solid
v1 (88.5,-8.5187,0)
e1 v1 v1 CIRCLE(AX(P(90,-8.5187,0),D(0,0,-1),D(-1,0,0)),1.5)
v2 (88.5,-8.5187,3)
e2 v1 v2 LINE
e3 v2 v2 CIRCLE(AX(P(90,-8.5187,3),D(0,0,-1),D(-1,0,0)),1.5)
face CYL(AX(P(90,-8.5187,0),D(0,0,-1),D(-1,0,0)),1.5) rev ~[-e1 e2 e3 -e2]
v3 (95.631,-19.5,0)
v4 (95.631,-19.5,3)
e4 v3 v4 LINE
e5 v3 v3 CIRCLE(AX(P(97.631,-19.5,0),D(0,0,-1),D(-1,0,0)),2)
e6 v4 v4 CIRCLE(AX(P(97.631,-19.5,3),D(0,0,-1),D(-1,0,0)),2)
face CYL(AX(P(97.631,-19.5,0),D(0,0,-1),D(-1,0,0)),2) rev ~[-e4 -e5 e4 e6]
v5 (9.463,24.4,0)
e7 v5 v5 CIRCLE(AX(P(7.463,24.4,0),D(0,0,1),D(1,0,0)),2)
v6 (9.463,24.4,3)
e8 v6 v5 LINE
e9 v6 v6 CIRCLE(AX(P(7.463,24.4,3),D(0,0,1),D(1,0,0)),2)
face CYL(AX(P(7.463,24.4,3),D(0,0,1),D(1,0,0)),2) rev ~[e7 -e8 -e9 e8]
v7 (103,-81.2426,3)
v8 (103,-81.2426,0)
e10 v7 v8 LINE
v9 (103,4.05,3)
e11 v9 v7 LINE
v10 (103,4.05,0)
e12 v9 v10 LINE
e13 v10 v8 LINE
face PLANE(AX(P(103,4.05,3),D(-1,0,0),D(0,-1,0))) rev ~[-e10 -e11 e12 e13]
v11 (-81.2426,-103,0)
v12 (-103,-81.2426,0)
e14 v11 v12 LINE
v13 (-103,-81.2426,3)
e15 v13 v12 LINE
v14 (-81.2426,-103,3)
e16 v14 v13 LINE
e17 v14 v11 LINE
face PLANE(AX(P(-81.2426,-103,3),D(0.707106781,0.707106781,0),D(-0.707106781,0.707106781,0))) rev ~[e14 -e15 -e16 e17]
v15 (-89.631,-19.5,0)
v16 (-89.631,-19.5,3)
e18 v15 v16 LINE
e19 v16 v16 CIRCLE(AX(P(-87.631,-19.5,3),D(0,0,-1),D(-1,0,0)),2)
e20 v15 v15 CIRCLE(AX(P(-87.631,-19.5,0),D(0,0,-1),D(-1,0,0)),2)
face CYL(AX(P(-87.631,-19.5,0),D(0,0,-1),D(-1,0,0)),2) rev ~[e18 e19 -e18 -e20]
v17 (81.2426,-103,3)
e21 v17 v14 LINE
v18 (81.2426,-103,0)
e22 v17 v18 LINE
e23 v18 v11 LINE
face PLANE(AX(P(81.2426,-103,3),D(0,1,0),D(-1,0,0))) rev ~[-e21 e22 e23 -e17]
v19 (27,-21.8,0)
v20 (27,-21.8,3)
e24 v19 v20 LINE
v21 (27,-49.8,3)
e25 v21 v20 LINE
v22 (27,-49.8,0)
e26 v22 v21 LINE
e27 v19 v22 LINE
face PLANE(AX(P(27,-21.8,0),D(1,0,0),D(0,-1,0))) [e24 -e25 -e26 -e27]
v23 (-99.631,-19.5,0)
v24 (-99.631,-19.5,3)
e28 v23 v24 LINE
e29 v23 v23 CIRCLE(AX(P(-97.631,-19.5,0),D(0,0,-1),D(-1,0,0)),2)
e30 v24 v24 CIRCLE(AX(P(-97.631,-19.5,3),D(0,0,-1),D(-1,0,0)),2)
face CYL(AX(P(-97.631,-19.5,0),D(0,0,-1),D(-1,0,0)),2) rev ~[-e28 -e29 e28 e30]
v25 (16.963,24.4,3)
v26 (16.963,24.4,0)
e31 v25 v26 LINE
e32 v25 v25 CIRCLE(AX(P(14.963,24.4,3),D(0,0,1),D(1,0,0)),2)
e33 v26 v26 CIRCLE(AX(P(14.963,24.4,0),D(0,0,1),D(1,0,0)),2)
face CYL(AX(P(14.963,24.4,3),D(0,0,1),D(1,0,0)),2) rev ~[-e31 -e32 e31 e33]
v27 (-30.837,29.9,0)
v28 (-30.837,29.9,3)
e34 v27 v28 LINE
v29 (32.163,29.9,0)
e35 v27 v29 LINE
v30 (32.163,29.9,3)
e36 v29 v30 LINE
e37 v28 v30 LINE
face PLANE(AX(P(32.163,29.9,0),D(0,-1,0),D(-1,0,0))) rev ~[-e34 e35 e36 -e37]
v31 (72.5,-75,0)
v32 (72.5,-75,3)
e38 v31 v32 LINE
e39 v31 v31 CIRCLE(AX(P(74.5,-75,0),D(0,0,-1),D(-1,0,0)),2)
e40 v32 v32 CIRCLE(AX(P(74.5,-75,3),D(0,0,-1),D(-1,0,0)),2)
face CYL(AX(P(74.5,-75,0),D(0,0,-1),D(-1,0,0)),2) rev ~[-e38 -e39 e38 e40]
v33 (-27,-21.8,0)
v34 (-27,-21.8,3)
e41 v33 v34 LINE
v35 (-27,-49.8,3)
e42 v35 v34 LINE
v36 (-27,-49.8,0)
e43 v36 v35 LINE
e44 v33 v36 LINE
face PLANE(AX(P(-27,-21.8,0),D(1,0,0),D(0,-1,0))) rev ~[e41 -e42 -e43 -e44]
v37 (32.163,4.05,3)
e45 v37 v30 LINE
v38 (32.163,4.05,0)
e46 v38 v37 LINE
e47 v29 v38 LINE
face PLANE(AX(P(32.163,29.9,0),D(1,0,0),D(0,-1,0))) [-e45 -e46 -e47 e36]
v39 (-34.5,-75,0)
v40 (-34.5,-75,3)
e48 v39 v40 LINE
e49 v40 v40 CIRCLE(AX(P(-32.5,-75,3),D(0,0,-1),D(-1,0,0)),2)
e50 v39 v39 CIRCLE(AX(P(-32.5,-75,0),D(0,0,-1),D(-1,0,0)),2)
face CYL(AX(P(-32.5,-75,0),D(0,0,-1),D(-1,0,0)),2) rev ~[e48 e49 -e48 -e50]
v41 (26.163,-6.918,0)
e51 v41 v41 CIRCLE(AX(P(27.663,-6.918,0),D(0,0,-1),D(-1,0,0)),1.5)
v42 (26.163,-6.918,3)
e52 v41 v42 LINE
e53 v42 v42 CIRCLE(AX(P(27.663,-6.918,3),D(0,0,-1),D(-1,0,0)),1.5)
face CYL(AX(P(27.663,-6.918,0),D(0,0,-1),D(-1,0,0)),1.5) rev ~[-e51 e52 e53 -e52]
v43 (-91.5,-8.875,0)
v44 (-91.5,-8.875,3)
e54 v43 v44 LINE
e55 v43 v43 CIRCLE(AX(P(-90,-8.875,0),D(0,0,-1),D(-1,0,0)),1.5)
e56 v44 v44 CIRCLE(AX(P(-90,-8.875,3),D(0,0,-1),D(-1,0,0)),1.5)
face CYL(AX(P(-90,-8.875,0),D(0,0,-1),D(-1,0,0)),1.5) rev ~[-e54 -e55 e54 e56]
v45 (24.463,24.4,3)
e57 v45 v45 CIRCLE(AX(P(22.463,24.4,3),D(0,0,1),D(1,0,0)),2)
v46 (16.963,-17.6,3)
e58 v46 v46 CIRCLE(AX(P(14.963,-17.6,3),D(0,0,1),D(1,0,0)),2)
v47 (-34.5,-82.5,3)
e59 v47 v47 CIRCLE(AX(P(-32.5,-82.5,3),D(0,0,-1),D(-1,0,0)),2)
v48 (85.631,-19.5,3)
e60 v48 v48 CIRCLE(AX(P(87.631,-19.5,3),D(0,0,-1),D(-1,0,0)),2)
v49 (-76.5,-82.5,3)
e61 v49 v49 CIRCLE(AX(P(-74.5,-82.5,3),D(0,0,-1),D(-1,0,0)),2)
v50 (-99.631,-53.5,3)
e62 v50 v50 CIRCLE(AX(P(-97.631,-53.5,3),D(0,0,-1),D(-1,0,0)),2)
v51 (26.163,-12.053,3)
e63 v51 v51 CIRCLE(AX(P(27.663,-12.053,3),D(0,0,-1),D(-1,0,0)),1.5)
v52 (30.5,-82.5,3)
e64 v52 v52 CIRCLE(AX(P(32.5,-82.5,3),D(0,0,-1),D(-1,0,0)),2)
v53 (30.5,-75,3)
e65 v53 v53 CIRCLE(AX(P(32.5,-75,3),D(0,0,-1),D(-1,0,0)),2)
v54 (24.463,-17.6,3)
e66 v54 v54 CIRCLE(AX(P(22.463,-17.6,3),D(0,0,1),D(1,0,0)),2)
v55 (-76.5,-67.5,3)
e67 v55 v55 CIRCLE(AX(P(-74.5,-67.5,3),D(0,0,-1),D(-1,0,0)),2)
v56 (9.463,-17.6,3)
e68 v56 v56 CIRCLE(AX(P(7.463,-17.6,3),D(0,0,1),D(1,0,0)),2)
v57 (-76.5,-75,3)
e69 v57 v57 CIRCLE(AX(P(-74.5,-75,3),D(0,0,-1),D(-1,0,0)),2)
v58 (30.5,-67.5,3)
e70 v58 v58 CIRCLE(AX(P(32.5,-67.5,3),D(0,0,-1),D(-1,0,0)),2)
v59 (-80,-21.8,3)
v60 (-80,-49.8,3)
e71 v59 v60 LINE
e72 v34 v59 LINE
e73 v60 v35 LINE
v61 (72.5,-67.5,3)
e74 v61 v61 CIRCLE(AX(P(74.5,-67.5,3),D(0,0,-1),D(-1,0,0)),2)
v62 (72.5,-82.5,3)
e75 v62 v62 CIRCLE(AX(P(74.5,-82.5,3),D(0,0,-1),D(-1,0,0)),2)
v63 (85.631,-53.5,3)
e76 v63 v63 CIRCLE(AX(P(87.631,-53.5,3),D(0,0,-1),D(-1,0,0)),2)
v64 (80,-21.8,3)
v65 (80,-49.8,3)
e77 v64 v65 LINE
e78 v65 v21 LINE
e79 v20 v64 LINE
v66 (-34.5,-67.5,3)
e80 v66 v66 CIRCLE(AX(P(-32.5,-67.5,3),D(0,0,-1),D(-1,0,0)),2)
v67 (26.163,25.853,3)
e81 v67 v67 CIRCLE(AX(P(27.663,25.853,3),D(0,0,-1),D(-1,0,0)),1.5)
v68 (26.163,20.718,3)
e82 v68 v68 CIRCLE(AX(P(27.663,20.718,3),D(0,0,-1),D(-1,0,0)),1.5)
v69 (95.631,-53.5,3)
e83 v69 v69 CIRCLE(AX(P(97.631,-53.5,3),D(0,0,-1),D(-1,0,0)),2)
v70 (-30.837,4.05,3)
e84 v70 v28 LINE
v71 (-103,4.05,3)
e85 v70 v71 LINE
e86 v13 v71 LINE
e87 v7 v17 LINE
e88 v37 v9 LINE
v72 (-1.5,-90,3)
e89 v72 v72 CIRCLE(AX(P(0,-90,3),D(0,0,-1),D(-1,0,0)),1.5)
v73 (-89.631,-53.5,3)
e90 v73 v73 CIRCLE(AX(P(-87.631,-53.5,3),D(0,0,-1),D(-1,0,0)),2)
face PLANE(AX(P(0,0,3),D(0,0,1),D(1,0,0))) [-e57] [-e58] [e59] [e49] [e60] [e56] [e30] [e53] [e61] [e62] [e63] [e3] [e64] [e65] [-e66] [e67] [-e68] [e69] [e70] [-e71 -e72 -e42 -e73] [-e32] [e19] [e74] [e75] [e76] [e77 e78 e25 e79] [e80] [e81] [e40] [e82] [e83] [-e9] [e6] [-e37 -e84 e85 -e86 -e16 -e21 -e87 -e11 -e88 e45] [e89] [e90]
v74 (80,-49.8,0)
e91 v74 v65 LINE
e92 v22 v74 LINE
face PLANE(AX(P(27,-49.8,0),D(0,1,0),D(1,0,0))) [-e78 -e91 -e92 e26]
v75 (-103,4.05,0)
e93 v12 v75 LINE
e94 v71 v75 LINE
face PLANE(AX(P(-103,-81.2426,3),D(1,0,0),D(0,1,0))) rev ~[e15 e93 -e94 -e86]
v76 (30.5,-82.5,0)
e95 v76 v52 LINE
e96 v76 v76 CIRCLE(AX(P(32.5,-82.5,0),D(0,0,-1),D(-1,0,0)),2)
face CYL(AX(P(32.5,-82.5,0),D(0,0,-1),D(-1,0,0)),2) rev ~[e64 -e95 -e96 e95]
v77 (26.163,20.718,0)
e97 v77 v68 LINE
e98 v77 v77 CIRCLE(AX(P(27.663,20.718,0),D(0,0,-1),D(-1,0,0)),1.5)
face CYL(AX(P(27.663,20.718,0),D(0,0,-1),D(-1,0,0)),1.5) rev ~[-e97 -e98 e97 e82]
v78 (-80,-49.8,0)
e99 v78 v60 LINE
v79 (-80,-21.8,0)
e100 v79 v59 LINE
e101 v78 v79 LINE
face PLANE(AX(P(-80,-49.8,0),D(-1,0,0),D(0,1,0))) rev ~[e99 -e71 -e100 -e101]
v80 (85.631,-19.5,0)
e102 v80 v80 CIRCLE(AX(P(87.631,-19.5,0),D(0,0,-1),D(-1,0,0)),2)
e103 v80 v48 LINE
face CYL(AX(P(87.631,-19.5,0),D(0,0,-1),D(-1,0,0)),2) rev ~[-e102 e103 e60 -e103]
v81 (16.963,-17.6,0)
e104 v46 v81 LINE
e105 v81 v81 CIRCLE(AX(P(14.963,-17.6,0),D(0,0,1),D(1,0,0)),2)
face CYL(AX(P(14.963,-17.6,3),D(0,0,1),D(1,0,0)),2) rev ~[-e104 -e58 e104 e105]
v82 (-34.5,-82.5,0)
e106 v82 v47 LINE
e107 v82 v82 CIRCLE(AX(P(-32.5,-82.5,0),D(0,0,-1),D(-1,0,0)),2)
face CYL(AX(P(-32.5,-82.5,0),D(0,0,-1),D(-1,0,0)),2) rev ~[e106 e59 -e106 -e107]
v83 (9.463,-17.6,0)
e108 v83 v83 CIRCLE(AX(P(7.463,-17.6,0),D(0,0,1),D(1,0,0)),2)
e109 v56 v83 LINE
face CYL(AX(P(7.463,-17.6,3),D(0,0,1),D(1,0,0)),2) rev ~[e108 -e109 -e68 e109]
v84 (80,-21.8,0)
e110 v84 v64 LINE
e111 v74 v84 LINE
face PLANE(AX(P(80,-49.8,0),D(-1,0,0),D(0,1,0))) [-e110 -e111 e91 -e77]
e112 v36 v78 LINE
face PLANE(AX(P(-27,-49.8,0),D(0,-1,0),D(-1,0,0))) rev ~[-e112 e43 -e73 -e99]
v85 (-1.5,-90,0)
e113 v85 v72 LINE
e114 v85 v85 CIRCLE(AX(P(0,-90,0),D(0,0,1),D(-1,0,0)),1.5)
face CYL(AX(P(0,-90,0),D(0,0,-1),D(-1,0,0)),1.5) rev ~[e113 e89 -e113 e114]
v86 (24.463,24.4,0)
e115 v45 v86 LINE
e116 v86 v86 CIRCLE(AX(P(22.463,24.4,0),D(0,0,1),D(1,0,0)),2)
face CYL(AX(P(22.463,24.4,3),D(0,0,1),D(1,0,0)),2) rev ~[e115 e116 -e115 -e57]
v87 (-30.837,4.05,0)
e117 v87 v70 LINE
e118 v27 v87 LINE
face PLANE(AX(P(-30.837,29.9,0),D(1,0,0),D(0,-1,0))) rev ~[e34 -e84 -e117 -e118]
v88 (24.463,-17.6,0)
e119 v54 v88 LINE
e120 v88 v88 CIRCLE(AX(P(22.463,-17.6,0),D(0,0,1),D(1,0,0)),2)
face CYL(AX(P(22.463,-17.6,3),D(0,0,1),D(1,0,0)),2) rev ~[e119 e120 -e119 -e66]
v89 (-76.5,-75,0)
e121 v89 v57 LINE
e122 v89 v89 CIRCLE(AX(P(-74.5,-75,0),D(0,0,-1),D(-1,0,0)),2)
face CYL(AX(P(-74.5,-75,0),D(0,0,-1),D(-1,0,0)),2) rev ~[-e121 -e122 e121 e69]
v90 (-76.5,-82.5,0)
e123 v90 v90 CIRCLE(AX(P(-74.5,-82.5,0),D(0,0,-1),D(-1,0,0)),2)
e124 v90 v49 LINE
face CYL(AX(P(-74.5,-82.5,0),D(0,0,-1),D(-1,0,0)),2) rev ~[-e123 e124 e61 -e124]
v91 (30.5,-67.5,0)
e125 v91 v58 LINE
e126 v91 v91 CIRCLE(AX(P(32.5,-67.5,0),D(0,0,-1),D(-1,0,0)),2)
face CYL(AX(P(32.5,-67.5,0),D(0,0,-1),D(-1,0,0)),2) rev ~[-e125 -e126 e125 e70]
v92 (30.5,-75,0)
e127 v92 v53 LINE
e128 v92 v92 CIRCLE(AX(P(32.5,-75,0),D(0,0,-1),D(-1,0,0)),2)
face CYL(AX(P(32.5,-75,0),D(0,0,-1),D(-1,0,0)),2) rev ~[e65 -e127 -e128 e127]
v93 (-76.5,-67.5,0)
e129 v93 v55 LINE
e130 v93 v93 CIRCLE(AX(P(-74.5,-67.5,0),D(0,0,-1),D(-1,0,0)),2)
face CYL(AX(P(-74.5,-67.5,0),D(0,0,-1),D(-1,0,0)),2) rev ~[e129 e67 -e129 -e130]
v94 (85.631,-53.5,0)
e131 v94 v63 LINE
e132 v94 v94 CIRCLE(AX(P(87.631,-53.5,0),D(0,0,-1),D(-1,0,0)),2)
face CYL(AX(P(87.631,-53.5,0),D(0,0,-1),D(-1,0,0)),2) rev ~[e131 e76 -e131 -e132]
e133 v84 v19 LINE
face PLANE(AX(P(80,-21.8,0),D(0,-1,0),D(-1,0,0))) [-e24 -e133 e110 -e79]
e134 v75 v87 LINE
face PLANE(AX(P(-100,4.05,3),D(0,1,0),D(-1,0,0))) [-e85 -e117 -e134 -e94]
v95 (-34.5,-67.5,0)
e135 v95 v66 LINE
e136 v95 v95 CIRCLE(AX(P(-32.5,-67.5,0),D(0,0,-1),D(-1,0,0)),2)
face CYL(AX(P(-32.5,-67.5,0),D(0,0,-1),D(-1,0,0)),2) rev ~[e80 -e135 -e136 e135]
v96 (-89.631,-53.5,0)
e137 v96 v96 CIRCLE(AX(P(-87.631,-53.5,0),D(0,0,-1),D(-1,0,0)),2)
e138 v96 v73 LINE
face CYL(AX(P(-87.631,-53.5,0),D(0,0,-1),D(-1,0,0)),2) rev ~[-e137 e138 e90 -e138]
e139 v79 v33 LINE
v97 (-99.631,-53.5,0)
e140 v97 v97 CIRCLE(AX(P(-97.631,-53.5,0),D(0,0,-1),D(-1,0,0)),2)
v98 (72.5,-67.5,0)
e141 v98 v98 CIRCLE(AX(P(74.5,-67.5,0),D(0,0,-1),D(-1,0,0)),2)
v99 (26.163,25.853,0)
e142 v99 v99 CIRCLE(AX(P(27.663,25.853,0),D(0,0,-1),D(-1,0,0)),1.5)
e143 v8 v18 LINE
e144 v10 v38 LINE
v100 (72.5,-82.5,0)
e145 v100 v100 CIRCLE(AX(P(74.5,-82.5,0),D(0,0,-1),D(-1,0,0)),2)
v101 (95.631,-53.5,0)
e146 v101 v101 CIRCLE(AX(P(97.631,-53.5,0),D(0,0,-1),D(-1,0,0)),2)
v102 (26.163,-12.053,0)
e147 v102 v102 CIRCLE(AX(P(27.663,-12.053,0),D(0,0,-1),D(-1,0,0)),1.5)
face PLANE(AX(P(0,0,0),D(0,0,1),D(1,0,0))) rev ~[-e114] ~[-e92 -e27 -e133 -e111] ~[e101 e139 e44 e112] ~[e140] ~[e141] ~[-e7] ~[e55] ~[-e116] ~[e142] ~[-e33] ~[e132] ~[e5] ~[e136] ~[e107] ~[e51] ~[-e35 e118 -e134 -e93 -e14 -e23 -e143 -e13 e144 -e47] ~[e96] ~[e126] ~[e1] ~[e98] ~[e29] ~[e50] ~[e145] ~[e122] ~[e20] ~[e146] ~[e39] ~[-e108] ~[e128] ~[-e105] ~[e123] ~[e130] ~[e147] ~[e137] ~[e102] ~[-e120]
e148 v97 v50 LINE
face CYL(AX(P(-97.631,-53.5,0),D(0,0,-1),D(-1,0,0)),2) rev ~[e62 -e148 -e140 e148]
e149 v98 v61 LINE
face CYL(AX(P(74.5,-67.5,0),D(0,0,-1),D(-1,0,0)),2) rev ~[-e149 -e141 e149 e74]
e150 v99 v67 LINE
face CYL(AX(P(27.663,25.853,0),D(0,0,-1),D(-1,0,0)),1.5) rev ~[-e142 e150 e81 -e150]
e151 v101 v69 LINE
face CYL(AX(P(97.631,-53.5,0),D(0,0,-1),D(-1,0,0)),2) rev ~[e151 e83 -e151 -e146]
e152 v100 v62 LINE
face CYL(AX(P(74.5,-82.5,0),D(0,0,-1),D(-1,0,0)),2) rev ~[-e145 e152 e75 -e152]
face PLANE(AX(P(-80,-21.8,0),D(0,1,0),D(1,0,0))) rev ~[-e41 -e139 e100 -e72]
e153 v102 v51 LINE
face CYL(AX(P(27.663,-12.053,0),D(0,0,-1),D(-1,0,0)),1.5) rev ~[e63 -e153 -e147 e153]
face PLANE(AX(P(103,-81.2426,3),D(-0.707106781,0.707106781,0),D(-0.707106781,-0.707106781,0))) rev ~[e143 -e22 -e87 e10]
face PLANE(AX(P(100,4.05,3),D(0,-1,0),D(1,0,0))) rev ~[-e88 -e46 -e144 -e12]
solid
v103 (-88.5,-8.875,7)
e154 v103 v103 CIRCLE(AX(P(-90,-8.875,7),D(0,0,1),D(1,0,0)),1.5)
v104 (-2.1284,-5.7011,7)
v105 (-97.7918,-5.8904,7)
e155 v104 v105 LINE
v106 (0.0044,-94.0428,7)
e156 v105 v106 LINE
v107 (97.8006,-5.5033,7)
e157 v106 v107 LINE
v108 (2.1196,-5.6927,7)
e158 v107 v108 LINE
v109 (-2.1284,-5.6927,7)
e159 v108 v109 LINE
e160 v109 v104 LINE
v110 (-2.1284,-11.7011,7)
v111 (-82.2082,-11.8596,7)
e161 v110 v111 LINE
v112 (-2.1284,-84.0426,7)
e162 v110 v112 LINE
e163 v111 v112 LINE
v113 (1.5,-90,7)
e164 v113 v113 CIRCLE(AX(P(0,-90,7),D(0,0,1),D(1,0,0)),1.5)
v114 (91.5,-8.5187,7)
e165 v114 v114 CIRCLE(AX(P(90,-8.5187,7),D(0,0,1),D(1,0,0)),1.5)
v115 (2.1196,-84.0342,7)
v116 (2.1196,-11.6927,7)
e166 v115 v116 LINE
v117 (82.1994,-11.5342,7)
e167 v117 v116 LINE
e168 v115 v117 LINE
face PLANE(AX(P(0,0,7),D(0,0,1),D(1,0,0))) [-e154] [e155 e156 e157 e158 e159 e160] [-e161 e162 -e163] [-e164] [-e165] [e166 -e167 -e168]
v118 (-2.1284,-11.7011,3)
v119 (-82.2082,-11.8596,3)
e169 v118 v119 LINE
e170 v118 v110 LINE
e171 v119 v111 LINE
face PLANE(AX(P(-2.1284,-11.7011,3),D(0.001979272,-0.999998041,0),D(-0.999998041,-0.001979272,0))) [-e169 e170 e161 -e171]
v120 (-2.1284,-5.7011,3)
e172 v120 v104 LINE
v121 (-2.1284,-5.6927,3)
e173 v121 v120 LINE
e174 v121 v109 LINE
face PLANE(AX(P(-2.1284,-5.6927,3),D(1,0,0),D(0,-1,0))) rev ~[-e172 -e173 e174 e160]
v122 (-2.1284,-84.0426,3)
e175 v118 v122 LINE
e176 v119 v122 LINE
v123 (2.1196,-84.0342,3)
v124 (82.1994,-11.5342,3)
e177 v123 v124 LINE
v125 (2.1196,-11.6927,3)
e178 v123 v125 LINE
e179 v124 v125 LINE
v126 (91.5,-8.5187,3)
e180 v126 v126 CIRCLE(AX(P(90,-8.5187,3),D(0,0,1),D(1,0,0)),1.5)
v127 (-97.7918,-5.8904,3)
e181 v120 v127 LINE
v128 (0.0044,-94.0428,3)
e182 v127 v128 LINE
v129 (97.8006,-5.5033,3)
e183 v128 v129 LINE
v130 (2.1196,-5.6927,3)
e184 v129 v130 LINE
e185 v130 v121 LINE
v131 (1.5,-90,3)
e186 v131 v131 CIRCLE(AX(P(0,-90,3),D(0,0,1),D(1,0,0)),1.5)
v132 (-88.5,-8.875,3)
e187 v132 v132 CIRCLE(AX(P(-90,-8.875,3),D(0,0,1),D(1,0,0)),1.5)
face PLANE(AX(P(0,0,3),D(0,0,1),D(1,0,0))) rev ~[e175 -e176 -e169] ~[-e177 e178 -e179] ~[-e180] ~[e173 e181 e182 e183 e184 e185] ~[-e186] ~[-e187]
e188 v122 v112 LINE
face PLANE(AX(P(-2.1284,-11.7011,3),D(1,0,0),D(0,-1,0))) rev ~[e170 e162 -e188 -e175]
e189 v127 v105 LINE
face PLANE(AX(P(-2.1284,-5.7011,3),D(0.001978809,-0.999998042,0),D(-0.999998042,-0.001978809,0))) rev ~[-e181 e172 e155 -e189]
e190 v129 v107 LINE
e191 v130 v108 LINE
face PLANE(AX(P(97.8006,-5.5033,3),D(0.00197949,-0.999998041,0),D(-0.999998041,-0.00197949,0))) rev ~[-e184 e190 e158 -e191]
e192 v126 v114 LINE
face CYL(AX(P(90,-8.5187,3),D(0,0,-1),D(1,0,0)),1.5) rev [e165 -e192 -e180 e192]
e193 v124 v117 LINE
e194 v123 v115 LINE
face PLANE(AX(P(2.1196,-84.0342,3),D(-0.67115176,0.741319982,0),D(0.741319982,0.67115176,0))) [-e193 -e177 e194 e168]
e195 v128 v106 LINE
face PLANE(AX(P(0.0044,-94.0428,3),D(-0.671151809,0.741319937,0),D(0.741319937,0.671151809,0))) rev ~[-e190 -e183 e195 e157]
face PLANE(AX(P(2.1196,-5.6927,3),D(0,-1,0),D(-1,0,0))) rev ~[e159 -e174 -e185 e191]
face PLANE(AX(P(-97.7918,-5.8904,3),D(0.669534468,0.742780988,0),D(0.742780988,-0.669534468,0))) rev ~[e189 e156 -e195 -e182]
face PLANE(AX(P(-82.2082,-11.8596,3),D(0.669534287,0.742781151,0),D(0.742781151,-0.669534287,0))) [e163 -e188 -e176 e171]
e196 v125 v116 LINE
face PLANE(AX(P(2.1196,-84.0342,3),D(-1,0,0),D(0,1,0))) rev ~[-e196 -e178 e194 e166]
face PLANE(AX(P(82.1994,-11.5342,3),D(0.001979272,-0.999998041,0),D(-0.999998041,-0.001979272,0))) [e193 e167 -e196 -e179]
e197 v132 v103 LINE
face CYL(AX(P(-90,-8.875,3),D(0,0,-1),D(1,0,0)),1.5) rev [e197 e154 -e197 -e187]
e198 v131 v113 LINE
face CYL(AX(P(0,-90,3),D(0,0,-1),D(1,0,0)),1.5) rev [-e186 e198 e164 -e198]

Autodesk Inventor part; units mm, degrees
ref_plane "YZ Plane" through (0, 0, 0) normal (1, 0, 0) x (0, 1, 0)
ref_plane "XZ Plane" through (0, 0, 0) normal (0, 1, 0) x (-1, 0, 0)
ref_plane "XY Plane" through (0, 0, 0) normal (0, 0, 1) x (1, 0, 0)
sketch "Эскиз1" plane through (0, 0, 0) normal (0, 0, 1) x (1, 0, 0)
  line L0 (-100, -100) -> (100, -100)
  line L1 (100, -100) -> (100, 100)
  line L2 (100, 100) -> (-100, 100)
  line L3 (-100, 100) -> (-100, -100)
  line L4 (-100, -100) -> (100, 100) construction
  line L5 (100, -100) -> (-100, 100) construction
  point P0 (0, 0)
  dimension "d0" = 200
  dimension "d1" = 200
extrude "Выдавливание1" add sketch "Эскиз1" along normal blind 3
sketch "Эскиз2" plane through (0, 0, 3) normal (0, 0, 1) x (1, 0, 0)
  line L0 (-100, -100) -> (100, -100) projected
  line L1 (100, -100) -> (100, 100) projected
  line L2 (100, 100) -> (-100, 100) projected
  line L3 (-100, 100) -> (-100, -100) projected
  line L4 (-100, 100) -> (-90, 100) construction
  line L5 (-100, -100) -> (100, -100) construction
  line L6 (100, -100) -> (90, -100) construction
  line L7 (-90, 100) -> (-90, 90) construction
  line L8 (100, 100) -> (-100, 100) construction
  line L9 (-90, 100) -> (-80, 100) construction
  line L10 (90, -100) -> (90, -90) construction
  line L11 (-90, 90) -> (90, 90) construction
  line L12 (90, 90) -> (90, -90) construction
  line L13 (90, -90) -> (-90, -90) construction
  line L14 (-90, -90) -> (-90, 90) construction
  point P0 (0, 0)
  dimension "d4" = 10
  dimension "d5" = 10
  dimension "d6" = 10
  dimension "d7" = 270
  dimension "d8" = 10
sketch "Эскиз3" plane through (0, 0, 0) normal (0, 0, -1) x (-1, 0, 0)
  line L0 (-90, -90) -> (90, -90) construction
  line L1 (90, -90) -> (90, 90) construction
  line L2 (90, 90) -> (-90, 90) construction
  line L3 (100, -100) -> (-100, -100) projected
  line L4 (-100, -100) -> (-100, 100) projected
  line L5 (-100, 100) -> (100, 100) projected
  line L6 (100, 100) -> (100, -100) projected
  line L7 (-90, 90) -> (-90, -90) construction
  point P0 (0, 0)
sketch "Эскиз4" plane through (0, 0, 0) normal (0, 0, -1) x (-1, 0, 0)
  line L0 (90, -90) -> (90, 90) construction
  line L1 (-90, -90) -> (90, -90) construction
  line L2 (90, -90) -> (80, -90) construction
  line L3 (80, -90) -> (80, -57.8) construction
  line L4 (80, -57.8) -> (69, -57.8) construction
  line L5 (69, -57.8) -> (69, -90) construction
  line L6 (74.5, -90) -> (74.5, -58.2367) construction
  line L7 (80, -73.9) -> (69, -73.9) construction
  line L8 (74.5, -90) -> (74.5, -82.5) construction
  circle A0 centre (74.5, -82.5) radius 2
  line L9 (74.5, -82.5) -> (74.5, -75) construction
  line L10 (74.5, -75) -> (74.5, -67.5) construction
  circle A1 centre (74.5, -75) radius 2
  circle A2 centre (74.5, -67.5) radius 2
  line L11 (69, -90) -> (38, -90) construction
  line L12 (53.5, -90) -> (53.5, -69.5) construction
  line L13 (27, -90) -> (27, -57.8) construction
  line L14 (27, -57.8) -> (38, -57.8) construction
  line L15 (38, -57.8) -> (38, -90) construction
  line L16 (32.5, -90) -> (32.5, -58.2367) construction
  line L17 (27, -73.9) -> (38, -73.9) construction
  line L18 (32.5, -90) -> (32.5, -82.5) construction
  circle A3 centre (32.5, -82.5) radius 2
  line L19 (32.5, -82.5) -> (32.5, -75) construction
  line L20 (32.5, -75) -> (32.5, -67.5) construction
  circle A4 centre (32.5, -75) radius 2
  circle A5 centre (32.5, -67.5) radius 2
  line L21 (0, 90) -> (0, -90)
  line L22 (-80, -90) -> (-80, -57.8) construction
  line L23 (-80, -57.8) -> (-69, -57.8) construction
  line L24 (-69, -57.8) -> (-69, -90) construction
  line L25 (-74.5, -90) -> (-74.5, -58.2367) construction
  line L26 (-80, -73.9) -> (-69, -73.9) construction
  line L27 (-74.5, -90) -> (-74.5, -82.5) construction
  circle A6 centre (-74.5, -82.5) radius 2
  line L28 (-74.5, -82.5) -> (-74.5, -75) construction
  line L29 (-74.5, -75) -> (-74.5, -67.5) construction
  circle A7 centre (-74.5, -75) radius 2
  circle A8 centre (-74.5, -67.5) radius 2
  line L30 (-69, -90) -> (-38, -90) construction
  line L31 (-53.5, -90) -> (-53.5, -69.5) construction
  line L32 (-27, -90) -> (-27, -57.8) construction
  line L33 (-38, -57.8) -> (-38, -90) construction
  line L34 (-27, -73.9) -> (-38, -73.9) construction
  line L35 (-27, -57.8) -> (-38, -57.8) construction
  line L36 (-32.5, -90) -> (-32.5, -58.2367) construction
  line L37 (-32.5, -90) -> (-32.5, -82.5) construction
  circle A9 centre (-32.5, -82.5) radius 2
  line L38 (-32.5, -82.5) -> (-32.5, -75) construction
  circle A10 centre (-32.5, -75) radius 2
  line L39 (-32.5, -75) -> (-32.5, -67.5) construction
  circle A11 centre (-32.5, -67.5) radius 2
  line L40 (27, -57.8) -> (80, -57.8) construction
  line L41 (80, -57.8) -> (80, -29.8) construction
  line L42 (80, -29.8) -> (27, -29.8) construction
  line L43 (27, -29.8) -> (27, -57.8) construction
  line L44 (-80, -57.8) -> (-69, -57.8) construction
  line L45 (-27, -57.8) -> (-38, -57.8) construction
  line L46 (-27, -57.8) -> (-80, -57.8) construction
  line L47 (-80, -57.8) -> (-80, -29.8) construction
  line L48 (-80, -29.8) -> (-27, -29.8) construction
  line L49 (-27, -29.8) -> (-27, -57.8) construction
  line L50 (80, -57.8) -> (27, -57.8) construction
  line L51 (27, -57.8) -> (27, -49.8) construction
  line L52 (27, -49.8) -> (80, -49.8) construction
  line L53 (80, -49.8) -> (80, -57.8) construction
  line L54 (-27, -57.8) -> (-80, -57.8) construction
  line L55 (-80, -57.8) -> (-80, -49.8) construction
  line L56 (-80, -49.8) -> (-27, -49.8) construction
  line L57 (-27, -49.8) -> (-27, -57.8) construction
  line L58 (27, -49.8) -> (80, -49.8)
  line L59 (80, -49.8) -> (80, -21.8)
  line L60 (80, -21.8) -> (27, -21.8)
  line L61 (27, -21.8) -> (27, -49.8)
  line L62 (-27, -49.8) -> (-80, -49.8)
  line L63 (-80, -49.8) -> (-80, -21.8)
  line L64 (-80, -21.8) -> (-27, -21.8)
  line L65 (-27, -21.8) -> (-27, -49.8)
  line L66 (100, -100) -> (-100, -100) construction
  line L67 (100, 100) -> (100, -100) construction
  line L68 (-100, 100) -> (100, 100) construction
  line L69 (-100, -100) -> (-100, 100) construction
  line L70 (-100, -100) -> (-100, 100) construction
  line L71 (-100, -10.3933) -> (-30.663, -10.3933) construction
  line L72 (100, -100) -> (-100, -100) construction
  line L73 (-16.2396, -100) -> (-16.2396, -14.621) construction
  line L74 (-100, 100) -> (100, 100) construction
  line L75 (-16.2396, 100) -> (-16.2396, -4.35) construction
  line L76 (-16.2396, 100) -> (88.1104, 100) construction
  line L77 (-30.663, -4.35) -> (-30.663, -14.621)
  line L78 (-30.663, -9.4855) -> (-27.663, -9.4855) construction
  line L79 (-27.663, -4.35) -> (-27.663, -14.621) construction
  line L80 (-30.663, -14.621) -> (-16.2396, -14.621) construction
  line L81 (-30.663, -4.35) -> (-16.2396, -4.35) construction
  line L82 (-16.2396, -14.621) -> (-16.2396, -4.35) construction
  line L83 (-27.663, -14.621) -> (-27.663, -12.053) construction
  circle A12 centre (-27.663, -12.053) radius 1.5
  line L84 (-27.663, -12.053) -> (-27.663, -6.918) construction
  circle A13 centre (-27.663, -6.918) radius 1.5
  line L85 (-30.663, -10.3933) -> (-53.163, -10.3933) construction
  line L86 (-30.663, -4.35) -> (-30.663, 18.15) construction
  line L87 (-30.663, 6.9) -> (-19.0358, 6.9) construction
  line L88 (-30.663, 18.15) -> (-30.663, 28.421)
  line L89 (-30.663, 23.2855) -> (-27.663, 23.2855) construction
  line L90 (-27.663, 18.15) -> (-27.663, 28.421) construction
  line L91 (-27.663, 28.421) -> (-27.663, 25.853) construction
  circle A14 centre (-27.663, 25.853) radius 1.5
  line L92 (-27.663, 25.853) -> (-27.663, 20.718) construction
  circle A15 centre (-27.663, 20.718) radius 1.5
  line L93 (-30.663, 28.421) -> (29.337, 28.421) construction
  line L94 (29.337, 28.421) -> (29.337, -14.621) construction
  line L95 (29.337, -14.621) -> (-30.663, -14.621) construction
  line L96 (-30.663, -14.621) -> (-30.663, 28.421) construction
  line L97 (-30.663, 28.421) -> (29.337, -14.621) construction
  line L98 (29.337, 28.421) -> (-30.663, -14.621) construction
  line L99 (-32.163, -16.1) -> (30.837, -16.1) construction
  line L100 (30.837, -16.1) -> (30.837, 29.9) construction
  line L101 (30.837, 29.9) -> (-32.163, 29.9) construction
  line L102 (-32.163, 29.9) -> (-32.163, -16.1) construction
  line L103 (-32.163, -16.1) -> (30.837, 29.9) construction
  line L104 (30.837, -16.1) -> (-32.163, 29.9) construction
  line L105 (-100, -21.8) -> (100, -21.8) construction
  line L106 (100, -21.8) -> (100, 29.9) construction
  line L107 (100, 29.9) -> (-100, 29.9) construction
  line L108 (-100, 29.9) -> (-100, -21.8) construction
  line L109 (100, 100) -> (100, -100) construction
  line L110 (100, 4.05) -> (-100, 4.05) construction
  line L111 (-90, -90) -> (-90, 47.825) construction
  line L112 (90, -21.8) -> (90, 4.05) construction
  line L113 (-90, -21.0875) -> (-90, 4.05) construction
  line L114 (-90, -8.5187) -> (90, -8.875) construction
  circle A16 centre (-90, -8.5187) radius 1.5
  circle A17 centre (90, -8.875) radius 1.5
  circle A18 centre (0, -90) radius 1.5
  line L115 (100, 4.05) -> (30.837, 4.05) construction
  line L116 (30.837, 4.05) -> (30.837, 100) construction
  line L117 (30.837, 100) -> (100, 100) construction
  line L118 (100, 100) -> (100, 4.05) construction
  line L119 (30.837, 4.05) -> (100, 4.05)
  line L120 (100, 4.05) -> (100, 100)
  line L121 (100, 100) -> (30.837, 100)
  line L122 (30.837, 100) -> (30.837, 4.05)
  line L123 (30.837, 100) -> (-100, 100)
  line L124 (-100, 100) -> (-100, 29.9)
  line L125 (-100, 29.9) -> (30.837, 29.9)
  line L126 (30.837, 29.9) -> (30.837, 100)
  line L127 (-100, 29.9) -> (-32.163, 29.9)
  line L128 (-32.163, 29.9) -> (-32.163, 4.05)
  line L129 (-32.163, 4.05) -> (-100, 4.05)
  line L130 (-100, 4.05) -> (-100, 29.9)
  line L131 (0, -8.6969) -> (-5, -8.6969) construction
  line L132 (0, -8.6969) -> (5, -8.6969) construction
  line L133 (90, -90) -> (100, -80)
  line L134 (90, -90) -> (104.1421, -90) construction
  line L135 (100, -80) -> (80, -100)
  line L136 (100, -100) -> (-100, -100) projected
  line L137 (80, -100) -> (100, -100)
  line L138 (100, -100) -> (100, -80)
  line L139 (-100, -100) -> (100, -100) construction
  line L140 (-100, -100) -> (100, -100) construction
  line L141 (-100, -80) -> (-80, -100)
  line L142 (-100, -100) -> (100, -100)
  line L143 (-100, -100) -> (-100, -80)
  line L144 (100, 100) -> (100, -100) projected
  line L145 (100, -21.8) -> (87.631, -21.8) construction
  line L146 (87.631, 4.05) -> (87.631, -19.5) construction
  line L147 (87.631, -21.8) -> (87.631, -18.7327) construction
  circle A19 centre (87.631, -19.5) radius 2
  line L148 (87.631, -19.5) -> (97.631, -19.5) construction
  circle A20 centre (97.631, -19.5) radius 2
  line L149 (87.631, -19.5) -> (87.631, -53.5) construction
  line L150 (87.631, -36.5) -> (80, -36.5) construction
  circle A21 centre (87.631, -53.5) radius 2
  line L151 (87.631, -53.5) -> (97.631, -53.5) construction
  circle A22 centre (97.631, -53.5) radius 2
  circle A23 centre (-87.631, -19.5) radius 2
  line L152 (-87.631, -19.5) -> (-97.631, -19.5) construction
  circle A24 centre (-97.631, -19.5) radius 2
  circle A25 centre (-87.631, -53.5) radius 2
  line L153 (-87.631, -53.5) -> (-97.631, -53.5) construction
  circle A26 centre (-97.631, -53.5) radius 2
  point P0 (0, 0)
  point P1 (-30.663, 24.1933)
  point P2 (-0.663, 6.9)
  dimension "d9" = 10
  dimension "d10" = 32.2
  dimension "d11" = 11
  dimension "d12" = 7.5
  dimension "d13" = 4
  dimension "d14" = 7.5
  dimension "d15" = 7.5
  dimension "d16" = 4
  dimension "d17" = 4
  dimension "d18" = 31
  dimension "d23" = 28
  dimension "d24" = 8
  dimension "d25" = 8
  dimension "d26" = 28
  dimension "d27" = 28
  dimension "d31" = 69.337
  dimension "d32" = 85.379
  dimension "d33" = 104.35
  dimension "d34" = 90
  dimension "d35" = 3
  dimension "d36" = 2.568
  dimension "d37" = 3
  dimension "d38" = 5.135
  dimension "d39" = 3
  dimension "d40" = 22.5
  dimension "d41" = 22.5
  dimension "d44" = 60
  dimension "d45" = 63
  dimension "d46" = 46
  dimension "d47" = 3
  dimension "d48" = 3
  dimension "d49" = 3
  dimension "d54" = 5
  dimension "d55" = 180
  dimension "d59" = 45
  dimension "d62" = 12.369
  dimension "d63" = 23.55
  dimension "d64" = 4
  dimension "d65" = 10
  dimension "d66" = 4
  dimension "d67" = 34
extrude "Выдавливание2" cut sketch "Эскиз4" against normal blind 10 contours A0 | A1 | A2 | A3 | A4 | A5
extrude "Выдавливание3" cut sketch "Эскиз4" against normal blind 10 contours A6 | A7 | A8 | A9 | A10 | A11
extrude "Выдавливание4" cut sketch "Эскиз4" against normal blind 10 contours L61 L60 L59 L58 | L62 L63 L64 L65
extrude "Выдавливание5" cut sketch "Эскиз4" against normal blind 10 contours A12 | A13 | A14 | A15
extrude "Выдавливание6" cut sketch "Эскиз4" against normal blind 10 contours A18 | A16 | A17
extrude "Выдавливание7" cut sketch "Эскиз4" against normal blind 10 contours L125 L124 L123 L122 | L128 L129 L130 L125 | L122 L121 L120 L119
extrude "Выдавливание9" cut sketch "Эскиз4" against normal blind 10 contours L136 L143 L141 | L138 L136 L135 L133
extrude "Выдавливание10" cut sketch "Эскиз4" against normal blind 10 contours A19 | A20 | A21 | A22 | A23 | A24 | A25 | A26
sketch "Эскиз5" plane through (0, 0, 3) normal (0, 0, 1) x (1, 0, 0)
  circle A0 centre (-90, -8.875) radius 1.5 projected
  circle A1 centre (90, -8.5187) radius 1.5 projected
  circle A2 centre (0, -90) radius 1.5 projected
  line L0 (-90, -8.875) -> (90, -8.5187) construction
  circle A3 centre (0, -90) radius 1.5 construction
  line L1 (90, -8.5187) -> (0, -90) construction
  line L2 (0, -90) -> (-90, -8.875) construction
  line L3 (-82.2082, -11.8596) -> (-2.1284, -84.0426)
  line L4 (2.1196, -84.0342) -> (82.1994, -11.5342)
  line L5 (-97.7918, -5.8904) -> (0.0044, -94.0428)
  line L6 (0.0044, -94.0428) -> (97.8006, -5.5033)
  line L7 (-0.0044, -11.6969) -> (-0.0044, -85.9572) construction
  line L8 (2.1196, -5.6927) -> (-2.1284, -5.6927)
  line L9 (2.1196, -84.0342) -> (2.1196, -11.6927)
  line L10 (1.7459, -84.3725) -> (-1.8325, -11.7005) construction
  line L11 (-2.128, -5.7011) -> (-2.1284, -5.6927) construction
  line L12 (-2.1284, -5.6927) -> (-2.1284, -5.7011)
  line L13 (97.8006, -5.5033) -> (2.1196, -5.6927)
  line L14 (-2.128, -5.7011) -> (-97.7918, -5.8904)
  line L15 (-2.1284, -11.7011) -> (-2.1284, -84.0426)
  line L16 (-2.1284, -91.9269) -> (-2.1284, -91.9614)
  line L17 (-2.1284, -91.9614) -> (-2.1266, -91.9253) construction
  line L18 (-1.755, -84.3792) -> (1.8241, -11.6933) construction
  line L19 (82.1994, -11.5342) -> (2.1196, -11.6927)
  line L20 (-2.1284, -11.7011) -> (-82.2082, -11.8596)
  point P0 (0, 0)
  point P1 (-0.0044, -48.827)
extrude "Выдавливание11" add sketch "Эскиз5" along normal blind 4 separate body
sketch "Эскиз6" plane through (0, 0, 3) normal (0, 0, 1) x (1, 0, 0)
  line L0 (-30.837, 29.9) -> (32.163, 29.9) construction
  line L1 (0, 29.9) -> (0, 24.4) construction
  line L2 (0, 29.9) -> (5.5, 29.9) construction
  line L3 (0, 24.4) -> (-30.837, 24.4) construction
  line L4 (-30.837, 4.05) -> (-30.837, 29.9) construction
  circle A0 centre (97.631, -19.5) radius 2 construction
  circle A1 centre (87.631, -53.5) radius 2 construction
  circle A2 centre (-87.631, -53.5) radius 2 construction
  circle A3 centre (-87.631, -19.5) radius 2 construction
  circle A4 centre (-97.631, -19.5) radius 2 construction
  circle A5 centre (-97.631, -53.5) radius 2 construction
  circle A6 centre (97.631, -53.5) radius 2 construction
  circle A7 centre (87.631, -19.5) radius 2 construction
  circle A8 centre (-32.5, -67.5) radius 2 construction
  circle A9 centre (-32.5, -82.5) radius 2 construction
  circle A10 centre (-74.5, -75) radius 2 construction
  circle A11 centre (-74.5, -82.5) radius 2 construction
  circle A12 centre (-74.5, -67.5) radius 2 construction
  circle A13 centre (-32.5, -75) radius 2 construction
  circle A14 centre (32.5, -67.5) radius 2 construction
  circle A15 centre (32.5, -82.5) radius 2 construction
  circle A16 centre (74.5, -82.5) radius 2 construction
  circle A17 centre (74.5, -75) radius 2 construction
  circle A18 centre (74.5, -67.5) radius 2 construction
  circle A19 centre (32.5, -75) radius 2 construction
  line L5 (27, -49.8) -> (27, -21.8) construction
  line L6 (27, -21.8) -> (80, -21.8) construction
  line L7 (80, -21.8) -> (80, -49.8) construction
  line L8 (80, -49.8) -> (27, -49.8) construction
  line L9 (-80, -49.8) -> (-80, -21.8) construction
  line L10 (-80, -21.8) -> (-27, -21.8) construction
  line L11 (-27, -21.8) -> (-27, -49.8) construction
  line L12 (-27, -49.8) -> (-80, -49.8) construction
  circle A20 centre (27.663, 25.853) radius 1.5 construction
  circle A21 centre (27.663, -6.918) radius 1.5 construction
  circle A22 centre (27.663, -12.053) radius 1.5 construction
  circle A23 centre (27.663, 20.718) radius 1.5 construction
  circle A24 centre (0, -90) radius 1.5 construction
  circle A25 centre (90, -8.5187) radius 1.5 construction
  circle A26 centre (-90, -8.875) radius 1.5 construction
  line L13 (-100, -80) -> (-80, -100) construction
  line L14 (-80, -100) -> (80, -100) construction
  line L15 (80, -100) -> (100, -80) construction
  line L16 (100, -80) -> (100, 4.05) construction
  line L17 (100, 4.05) -> (32.163, 4.05) construction
  line L18 (32.163, 4.05) -> (32.163, 29.9) construction
  line L19 (32.163, 29.9) -> (-30.837, 29.9) construction
  line L20 (-30.837, 29.9) -> (-30.837, 4.05) construction
  line L21 (-30.837, 4.05) -> (-100, 4.05) construction
  line L22 (-100, 4.05) -> (-100, -80) construction
  line L23 (32.163, 29.9) -> (32.163, 4.05) construction
  line L24 (32.163, 24.4) -> (22.463, 24.4) construction
  line L25 (32.163, 24.4) -> (41.863, 24.4) construction
  line L26 (22.463, 24.4) -> (22.463, 29.9) construction
  line L27 (0, 24.4) -> (22.463, 24.4) construction
  line L28 (-30.837, 24.4) -> (7.463, 24.4) construction
  circle A27 centre (7.463, 24.4) radius 2
  line L29 (7.463, 24.4) -> (14.963, 24.4) construction
  line L30 (14.963, 24.4) -> (22.463, 24.4) construction
  circle A28 centre (14.963, 24.4) radius 2
  circle A29 centre (22.463, 24.4) radius 2
  line L31 (14.963, 24.4) -> (14.963, 3.4) construction
  line L32 (14.963, 3.4) -> (35.678, 3.4) construction
  circle A30 centre (7.463, -17.6) radius 2
  circle A31 centre (14.963, -17.6) radius 2
  circle A32 centre (22.463, -17.6) radius 2
  point P0 (0, 0)
  dimension "d74" = 5.5
  dimension "d75" = 90
  dimension "d76" = 9.7
  dimension "d77" = 180
  dimension "d78" = 38.3
  dimension "d79" = 4
  dimension "d80" = 7.5
  dimension "d81" = 7.5
  dimension "d82" = 4
  dimension "d83" = 4
  dimension "d84" = 21
extrude "Выдавливание12" cut sketch "Эскиз6" against normal blind 10
sketch "Эскиз8" plane through (0, 0, 3) normal (0, 0, 1) x (1, 0, 0)
  line L0 (100, -80) -> (100, 4.05) projected
  line L1 (100, 4.05) -> (100, -80)
  line L2 (100, -80) -> (80, -100) projected
  line L3 (100, -80) -> (80, -100)
  line L4 (-80, -100) -> (-100, -80) projected
  line L5 (80, -100) -> (-80, -100)
  line L6 (-100, 4.05) -> (-100, -80) projected
  line L7 (-80, -100) -> (-100, -80)
  line L8 (-100, -80) -> (-100, 4.05)
  line L9 (-100, 4.05) -> (100, 4.05)
  line L10 (103, 4.05) -> (103, -81.2426)
  line L11 (103, -81.2426) -> (81.2426, -103)
  line L12 (81.2426, -103) -> (-81.2426, -103)
  line L13 (-81.2426, -103) -> (-103, -81.2426)
  line L14 (-103, -81.2426) -> (-103, 4.05)
  line L15 (-100, 4.05) -> (-30.837, 4.05) projected
  line L16 (-30.837, 4.05) -> (-103, 4.05)
  line L17 (32.163, 4.05) -> (100, 4.05) projected
  line L18 (32.163, 4.05) -> (103, 4.05)
  point P0 (0, 0)
extrude "Выдавливание13" add sketch "Эскиз8" against normal up to surface (3 mm away) contours L0 L18 L10 L11 L12 L13 L14 L16 L6 L4 L5 L2
properties part number "Up base"
